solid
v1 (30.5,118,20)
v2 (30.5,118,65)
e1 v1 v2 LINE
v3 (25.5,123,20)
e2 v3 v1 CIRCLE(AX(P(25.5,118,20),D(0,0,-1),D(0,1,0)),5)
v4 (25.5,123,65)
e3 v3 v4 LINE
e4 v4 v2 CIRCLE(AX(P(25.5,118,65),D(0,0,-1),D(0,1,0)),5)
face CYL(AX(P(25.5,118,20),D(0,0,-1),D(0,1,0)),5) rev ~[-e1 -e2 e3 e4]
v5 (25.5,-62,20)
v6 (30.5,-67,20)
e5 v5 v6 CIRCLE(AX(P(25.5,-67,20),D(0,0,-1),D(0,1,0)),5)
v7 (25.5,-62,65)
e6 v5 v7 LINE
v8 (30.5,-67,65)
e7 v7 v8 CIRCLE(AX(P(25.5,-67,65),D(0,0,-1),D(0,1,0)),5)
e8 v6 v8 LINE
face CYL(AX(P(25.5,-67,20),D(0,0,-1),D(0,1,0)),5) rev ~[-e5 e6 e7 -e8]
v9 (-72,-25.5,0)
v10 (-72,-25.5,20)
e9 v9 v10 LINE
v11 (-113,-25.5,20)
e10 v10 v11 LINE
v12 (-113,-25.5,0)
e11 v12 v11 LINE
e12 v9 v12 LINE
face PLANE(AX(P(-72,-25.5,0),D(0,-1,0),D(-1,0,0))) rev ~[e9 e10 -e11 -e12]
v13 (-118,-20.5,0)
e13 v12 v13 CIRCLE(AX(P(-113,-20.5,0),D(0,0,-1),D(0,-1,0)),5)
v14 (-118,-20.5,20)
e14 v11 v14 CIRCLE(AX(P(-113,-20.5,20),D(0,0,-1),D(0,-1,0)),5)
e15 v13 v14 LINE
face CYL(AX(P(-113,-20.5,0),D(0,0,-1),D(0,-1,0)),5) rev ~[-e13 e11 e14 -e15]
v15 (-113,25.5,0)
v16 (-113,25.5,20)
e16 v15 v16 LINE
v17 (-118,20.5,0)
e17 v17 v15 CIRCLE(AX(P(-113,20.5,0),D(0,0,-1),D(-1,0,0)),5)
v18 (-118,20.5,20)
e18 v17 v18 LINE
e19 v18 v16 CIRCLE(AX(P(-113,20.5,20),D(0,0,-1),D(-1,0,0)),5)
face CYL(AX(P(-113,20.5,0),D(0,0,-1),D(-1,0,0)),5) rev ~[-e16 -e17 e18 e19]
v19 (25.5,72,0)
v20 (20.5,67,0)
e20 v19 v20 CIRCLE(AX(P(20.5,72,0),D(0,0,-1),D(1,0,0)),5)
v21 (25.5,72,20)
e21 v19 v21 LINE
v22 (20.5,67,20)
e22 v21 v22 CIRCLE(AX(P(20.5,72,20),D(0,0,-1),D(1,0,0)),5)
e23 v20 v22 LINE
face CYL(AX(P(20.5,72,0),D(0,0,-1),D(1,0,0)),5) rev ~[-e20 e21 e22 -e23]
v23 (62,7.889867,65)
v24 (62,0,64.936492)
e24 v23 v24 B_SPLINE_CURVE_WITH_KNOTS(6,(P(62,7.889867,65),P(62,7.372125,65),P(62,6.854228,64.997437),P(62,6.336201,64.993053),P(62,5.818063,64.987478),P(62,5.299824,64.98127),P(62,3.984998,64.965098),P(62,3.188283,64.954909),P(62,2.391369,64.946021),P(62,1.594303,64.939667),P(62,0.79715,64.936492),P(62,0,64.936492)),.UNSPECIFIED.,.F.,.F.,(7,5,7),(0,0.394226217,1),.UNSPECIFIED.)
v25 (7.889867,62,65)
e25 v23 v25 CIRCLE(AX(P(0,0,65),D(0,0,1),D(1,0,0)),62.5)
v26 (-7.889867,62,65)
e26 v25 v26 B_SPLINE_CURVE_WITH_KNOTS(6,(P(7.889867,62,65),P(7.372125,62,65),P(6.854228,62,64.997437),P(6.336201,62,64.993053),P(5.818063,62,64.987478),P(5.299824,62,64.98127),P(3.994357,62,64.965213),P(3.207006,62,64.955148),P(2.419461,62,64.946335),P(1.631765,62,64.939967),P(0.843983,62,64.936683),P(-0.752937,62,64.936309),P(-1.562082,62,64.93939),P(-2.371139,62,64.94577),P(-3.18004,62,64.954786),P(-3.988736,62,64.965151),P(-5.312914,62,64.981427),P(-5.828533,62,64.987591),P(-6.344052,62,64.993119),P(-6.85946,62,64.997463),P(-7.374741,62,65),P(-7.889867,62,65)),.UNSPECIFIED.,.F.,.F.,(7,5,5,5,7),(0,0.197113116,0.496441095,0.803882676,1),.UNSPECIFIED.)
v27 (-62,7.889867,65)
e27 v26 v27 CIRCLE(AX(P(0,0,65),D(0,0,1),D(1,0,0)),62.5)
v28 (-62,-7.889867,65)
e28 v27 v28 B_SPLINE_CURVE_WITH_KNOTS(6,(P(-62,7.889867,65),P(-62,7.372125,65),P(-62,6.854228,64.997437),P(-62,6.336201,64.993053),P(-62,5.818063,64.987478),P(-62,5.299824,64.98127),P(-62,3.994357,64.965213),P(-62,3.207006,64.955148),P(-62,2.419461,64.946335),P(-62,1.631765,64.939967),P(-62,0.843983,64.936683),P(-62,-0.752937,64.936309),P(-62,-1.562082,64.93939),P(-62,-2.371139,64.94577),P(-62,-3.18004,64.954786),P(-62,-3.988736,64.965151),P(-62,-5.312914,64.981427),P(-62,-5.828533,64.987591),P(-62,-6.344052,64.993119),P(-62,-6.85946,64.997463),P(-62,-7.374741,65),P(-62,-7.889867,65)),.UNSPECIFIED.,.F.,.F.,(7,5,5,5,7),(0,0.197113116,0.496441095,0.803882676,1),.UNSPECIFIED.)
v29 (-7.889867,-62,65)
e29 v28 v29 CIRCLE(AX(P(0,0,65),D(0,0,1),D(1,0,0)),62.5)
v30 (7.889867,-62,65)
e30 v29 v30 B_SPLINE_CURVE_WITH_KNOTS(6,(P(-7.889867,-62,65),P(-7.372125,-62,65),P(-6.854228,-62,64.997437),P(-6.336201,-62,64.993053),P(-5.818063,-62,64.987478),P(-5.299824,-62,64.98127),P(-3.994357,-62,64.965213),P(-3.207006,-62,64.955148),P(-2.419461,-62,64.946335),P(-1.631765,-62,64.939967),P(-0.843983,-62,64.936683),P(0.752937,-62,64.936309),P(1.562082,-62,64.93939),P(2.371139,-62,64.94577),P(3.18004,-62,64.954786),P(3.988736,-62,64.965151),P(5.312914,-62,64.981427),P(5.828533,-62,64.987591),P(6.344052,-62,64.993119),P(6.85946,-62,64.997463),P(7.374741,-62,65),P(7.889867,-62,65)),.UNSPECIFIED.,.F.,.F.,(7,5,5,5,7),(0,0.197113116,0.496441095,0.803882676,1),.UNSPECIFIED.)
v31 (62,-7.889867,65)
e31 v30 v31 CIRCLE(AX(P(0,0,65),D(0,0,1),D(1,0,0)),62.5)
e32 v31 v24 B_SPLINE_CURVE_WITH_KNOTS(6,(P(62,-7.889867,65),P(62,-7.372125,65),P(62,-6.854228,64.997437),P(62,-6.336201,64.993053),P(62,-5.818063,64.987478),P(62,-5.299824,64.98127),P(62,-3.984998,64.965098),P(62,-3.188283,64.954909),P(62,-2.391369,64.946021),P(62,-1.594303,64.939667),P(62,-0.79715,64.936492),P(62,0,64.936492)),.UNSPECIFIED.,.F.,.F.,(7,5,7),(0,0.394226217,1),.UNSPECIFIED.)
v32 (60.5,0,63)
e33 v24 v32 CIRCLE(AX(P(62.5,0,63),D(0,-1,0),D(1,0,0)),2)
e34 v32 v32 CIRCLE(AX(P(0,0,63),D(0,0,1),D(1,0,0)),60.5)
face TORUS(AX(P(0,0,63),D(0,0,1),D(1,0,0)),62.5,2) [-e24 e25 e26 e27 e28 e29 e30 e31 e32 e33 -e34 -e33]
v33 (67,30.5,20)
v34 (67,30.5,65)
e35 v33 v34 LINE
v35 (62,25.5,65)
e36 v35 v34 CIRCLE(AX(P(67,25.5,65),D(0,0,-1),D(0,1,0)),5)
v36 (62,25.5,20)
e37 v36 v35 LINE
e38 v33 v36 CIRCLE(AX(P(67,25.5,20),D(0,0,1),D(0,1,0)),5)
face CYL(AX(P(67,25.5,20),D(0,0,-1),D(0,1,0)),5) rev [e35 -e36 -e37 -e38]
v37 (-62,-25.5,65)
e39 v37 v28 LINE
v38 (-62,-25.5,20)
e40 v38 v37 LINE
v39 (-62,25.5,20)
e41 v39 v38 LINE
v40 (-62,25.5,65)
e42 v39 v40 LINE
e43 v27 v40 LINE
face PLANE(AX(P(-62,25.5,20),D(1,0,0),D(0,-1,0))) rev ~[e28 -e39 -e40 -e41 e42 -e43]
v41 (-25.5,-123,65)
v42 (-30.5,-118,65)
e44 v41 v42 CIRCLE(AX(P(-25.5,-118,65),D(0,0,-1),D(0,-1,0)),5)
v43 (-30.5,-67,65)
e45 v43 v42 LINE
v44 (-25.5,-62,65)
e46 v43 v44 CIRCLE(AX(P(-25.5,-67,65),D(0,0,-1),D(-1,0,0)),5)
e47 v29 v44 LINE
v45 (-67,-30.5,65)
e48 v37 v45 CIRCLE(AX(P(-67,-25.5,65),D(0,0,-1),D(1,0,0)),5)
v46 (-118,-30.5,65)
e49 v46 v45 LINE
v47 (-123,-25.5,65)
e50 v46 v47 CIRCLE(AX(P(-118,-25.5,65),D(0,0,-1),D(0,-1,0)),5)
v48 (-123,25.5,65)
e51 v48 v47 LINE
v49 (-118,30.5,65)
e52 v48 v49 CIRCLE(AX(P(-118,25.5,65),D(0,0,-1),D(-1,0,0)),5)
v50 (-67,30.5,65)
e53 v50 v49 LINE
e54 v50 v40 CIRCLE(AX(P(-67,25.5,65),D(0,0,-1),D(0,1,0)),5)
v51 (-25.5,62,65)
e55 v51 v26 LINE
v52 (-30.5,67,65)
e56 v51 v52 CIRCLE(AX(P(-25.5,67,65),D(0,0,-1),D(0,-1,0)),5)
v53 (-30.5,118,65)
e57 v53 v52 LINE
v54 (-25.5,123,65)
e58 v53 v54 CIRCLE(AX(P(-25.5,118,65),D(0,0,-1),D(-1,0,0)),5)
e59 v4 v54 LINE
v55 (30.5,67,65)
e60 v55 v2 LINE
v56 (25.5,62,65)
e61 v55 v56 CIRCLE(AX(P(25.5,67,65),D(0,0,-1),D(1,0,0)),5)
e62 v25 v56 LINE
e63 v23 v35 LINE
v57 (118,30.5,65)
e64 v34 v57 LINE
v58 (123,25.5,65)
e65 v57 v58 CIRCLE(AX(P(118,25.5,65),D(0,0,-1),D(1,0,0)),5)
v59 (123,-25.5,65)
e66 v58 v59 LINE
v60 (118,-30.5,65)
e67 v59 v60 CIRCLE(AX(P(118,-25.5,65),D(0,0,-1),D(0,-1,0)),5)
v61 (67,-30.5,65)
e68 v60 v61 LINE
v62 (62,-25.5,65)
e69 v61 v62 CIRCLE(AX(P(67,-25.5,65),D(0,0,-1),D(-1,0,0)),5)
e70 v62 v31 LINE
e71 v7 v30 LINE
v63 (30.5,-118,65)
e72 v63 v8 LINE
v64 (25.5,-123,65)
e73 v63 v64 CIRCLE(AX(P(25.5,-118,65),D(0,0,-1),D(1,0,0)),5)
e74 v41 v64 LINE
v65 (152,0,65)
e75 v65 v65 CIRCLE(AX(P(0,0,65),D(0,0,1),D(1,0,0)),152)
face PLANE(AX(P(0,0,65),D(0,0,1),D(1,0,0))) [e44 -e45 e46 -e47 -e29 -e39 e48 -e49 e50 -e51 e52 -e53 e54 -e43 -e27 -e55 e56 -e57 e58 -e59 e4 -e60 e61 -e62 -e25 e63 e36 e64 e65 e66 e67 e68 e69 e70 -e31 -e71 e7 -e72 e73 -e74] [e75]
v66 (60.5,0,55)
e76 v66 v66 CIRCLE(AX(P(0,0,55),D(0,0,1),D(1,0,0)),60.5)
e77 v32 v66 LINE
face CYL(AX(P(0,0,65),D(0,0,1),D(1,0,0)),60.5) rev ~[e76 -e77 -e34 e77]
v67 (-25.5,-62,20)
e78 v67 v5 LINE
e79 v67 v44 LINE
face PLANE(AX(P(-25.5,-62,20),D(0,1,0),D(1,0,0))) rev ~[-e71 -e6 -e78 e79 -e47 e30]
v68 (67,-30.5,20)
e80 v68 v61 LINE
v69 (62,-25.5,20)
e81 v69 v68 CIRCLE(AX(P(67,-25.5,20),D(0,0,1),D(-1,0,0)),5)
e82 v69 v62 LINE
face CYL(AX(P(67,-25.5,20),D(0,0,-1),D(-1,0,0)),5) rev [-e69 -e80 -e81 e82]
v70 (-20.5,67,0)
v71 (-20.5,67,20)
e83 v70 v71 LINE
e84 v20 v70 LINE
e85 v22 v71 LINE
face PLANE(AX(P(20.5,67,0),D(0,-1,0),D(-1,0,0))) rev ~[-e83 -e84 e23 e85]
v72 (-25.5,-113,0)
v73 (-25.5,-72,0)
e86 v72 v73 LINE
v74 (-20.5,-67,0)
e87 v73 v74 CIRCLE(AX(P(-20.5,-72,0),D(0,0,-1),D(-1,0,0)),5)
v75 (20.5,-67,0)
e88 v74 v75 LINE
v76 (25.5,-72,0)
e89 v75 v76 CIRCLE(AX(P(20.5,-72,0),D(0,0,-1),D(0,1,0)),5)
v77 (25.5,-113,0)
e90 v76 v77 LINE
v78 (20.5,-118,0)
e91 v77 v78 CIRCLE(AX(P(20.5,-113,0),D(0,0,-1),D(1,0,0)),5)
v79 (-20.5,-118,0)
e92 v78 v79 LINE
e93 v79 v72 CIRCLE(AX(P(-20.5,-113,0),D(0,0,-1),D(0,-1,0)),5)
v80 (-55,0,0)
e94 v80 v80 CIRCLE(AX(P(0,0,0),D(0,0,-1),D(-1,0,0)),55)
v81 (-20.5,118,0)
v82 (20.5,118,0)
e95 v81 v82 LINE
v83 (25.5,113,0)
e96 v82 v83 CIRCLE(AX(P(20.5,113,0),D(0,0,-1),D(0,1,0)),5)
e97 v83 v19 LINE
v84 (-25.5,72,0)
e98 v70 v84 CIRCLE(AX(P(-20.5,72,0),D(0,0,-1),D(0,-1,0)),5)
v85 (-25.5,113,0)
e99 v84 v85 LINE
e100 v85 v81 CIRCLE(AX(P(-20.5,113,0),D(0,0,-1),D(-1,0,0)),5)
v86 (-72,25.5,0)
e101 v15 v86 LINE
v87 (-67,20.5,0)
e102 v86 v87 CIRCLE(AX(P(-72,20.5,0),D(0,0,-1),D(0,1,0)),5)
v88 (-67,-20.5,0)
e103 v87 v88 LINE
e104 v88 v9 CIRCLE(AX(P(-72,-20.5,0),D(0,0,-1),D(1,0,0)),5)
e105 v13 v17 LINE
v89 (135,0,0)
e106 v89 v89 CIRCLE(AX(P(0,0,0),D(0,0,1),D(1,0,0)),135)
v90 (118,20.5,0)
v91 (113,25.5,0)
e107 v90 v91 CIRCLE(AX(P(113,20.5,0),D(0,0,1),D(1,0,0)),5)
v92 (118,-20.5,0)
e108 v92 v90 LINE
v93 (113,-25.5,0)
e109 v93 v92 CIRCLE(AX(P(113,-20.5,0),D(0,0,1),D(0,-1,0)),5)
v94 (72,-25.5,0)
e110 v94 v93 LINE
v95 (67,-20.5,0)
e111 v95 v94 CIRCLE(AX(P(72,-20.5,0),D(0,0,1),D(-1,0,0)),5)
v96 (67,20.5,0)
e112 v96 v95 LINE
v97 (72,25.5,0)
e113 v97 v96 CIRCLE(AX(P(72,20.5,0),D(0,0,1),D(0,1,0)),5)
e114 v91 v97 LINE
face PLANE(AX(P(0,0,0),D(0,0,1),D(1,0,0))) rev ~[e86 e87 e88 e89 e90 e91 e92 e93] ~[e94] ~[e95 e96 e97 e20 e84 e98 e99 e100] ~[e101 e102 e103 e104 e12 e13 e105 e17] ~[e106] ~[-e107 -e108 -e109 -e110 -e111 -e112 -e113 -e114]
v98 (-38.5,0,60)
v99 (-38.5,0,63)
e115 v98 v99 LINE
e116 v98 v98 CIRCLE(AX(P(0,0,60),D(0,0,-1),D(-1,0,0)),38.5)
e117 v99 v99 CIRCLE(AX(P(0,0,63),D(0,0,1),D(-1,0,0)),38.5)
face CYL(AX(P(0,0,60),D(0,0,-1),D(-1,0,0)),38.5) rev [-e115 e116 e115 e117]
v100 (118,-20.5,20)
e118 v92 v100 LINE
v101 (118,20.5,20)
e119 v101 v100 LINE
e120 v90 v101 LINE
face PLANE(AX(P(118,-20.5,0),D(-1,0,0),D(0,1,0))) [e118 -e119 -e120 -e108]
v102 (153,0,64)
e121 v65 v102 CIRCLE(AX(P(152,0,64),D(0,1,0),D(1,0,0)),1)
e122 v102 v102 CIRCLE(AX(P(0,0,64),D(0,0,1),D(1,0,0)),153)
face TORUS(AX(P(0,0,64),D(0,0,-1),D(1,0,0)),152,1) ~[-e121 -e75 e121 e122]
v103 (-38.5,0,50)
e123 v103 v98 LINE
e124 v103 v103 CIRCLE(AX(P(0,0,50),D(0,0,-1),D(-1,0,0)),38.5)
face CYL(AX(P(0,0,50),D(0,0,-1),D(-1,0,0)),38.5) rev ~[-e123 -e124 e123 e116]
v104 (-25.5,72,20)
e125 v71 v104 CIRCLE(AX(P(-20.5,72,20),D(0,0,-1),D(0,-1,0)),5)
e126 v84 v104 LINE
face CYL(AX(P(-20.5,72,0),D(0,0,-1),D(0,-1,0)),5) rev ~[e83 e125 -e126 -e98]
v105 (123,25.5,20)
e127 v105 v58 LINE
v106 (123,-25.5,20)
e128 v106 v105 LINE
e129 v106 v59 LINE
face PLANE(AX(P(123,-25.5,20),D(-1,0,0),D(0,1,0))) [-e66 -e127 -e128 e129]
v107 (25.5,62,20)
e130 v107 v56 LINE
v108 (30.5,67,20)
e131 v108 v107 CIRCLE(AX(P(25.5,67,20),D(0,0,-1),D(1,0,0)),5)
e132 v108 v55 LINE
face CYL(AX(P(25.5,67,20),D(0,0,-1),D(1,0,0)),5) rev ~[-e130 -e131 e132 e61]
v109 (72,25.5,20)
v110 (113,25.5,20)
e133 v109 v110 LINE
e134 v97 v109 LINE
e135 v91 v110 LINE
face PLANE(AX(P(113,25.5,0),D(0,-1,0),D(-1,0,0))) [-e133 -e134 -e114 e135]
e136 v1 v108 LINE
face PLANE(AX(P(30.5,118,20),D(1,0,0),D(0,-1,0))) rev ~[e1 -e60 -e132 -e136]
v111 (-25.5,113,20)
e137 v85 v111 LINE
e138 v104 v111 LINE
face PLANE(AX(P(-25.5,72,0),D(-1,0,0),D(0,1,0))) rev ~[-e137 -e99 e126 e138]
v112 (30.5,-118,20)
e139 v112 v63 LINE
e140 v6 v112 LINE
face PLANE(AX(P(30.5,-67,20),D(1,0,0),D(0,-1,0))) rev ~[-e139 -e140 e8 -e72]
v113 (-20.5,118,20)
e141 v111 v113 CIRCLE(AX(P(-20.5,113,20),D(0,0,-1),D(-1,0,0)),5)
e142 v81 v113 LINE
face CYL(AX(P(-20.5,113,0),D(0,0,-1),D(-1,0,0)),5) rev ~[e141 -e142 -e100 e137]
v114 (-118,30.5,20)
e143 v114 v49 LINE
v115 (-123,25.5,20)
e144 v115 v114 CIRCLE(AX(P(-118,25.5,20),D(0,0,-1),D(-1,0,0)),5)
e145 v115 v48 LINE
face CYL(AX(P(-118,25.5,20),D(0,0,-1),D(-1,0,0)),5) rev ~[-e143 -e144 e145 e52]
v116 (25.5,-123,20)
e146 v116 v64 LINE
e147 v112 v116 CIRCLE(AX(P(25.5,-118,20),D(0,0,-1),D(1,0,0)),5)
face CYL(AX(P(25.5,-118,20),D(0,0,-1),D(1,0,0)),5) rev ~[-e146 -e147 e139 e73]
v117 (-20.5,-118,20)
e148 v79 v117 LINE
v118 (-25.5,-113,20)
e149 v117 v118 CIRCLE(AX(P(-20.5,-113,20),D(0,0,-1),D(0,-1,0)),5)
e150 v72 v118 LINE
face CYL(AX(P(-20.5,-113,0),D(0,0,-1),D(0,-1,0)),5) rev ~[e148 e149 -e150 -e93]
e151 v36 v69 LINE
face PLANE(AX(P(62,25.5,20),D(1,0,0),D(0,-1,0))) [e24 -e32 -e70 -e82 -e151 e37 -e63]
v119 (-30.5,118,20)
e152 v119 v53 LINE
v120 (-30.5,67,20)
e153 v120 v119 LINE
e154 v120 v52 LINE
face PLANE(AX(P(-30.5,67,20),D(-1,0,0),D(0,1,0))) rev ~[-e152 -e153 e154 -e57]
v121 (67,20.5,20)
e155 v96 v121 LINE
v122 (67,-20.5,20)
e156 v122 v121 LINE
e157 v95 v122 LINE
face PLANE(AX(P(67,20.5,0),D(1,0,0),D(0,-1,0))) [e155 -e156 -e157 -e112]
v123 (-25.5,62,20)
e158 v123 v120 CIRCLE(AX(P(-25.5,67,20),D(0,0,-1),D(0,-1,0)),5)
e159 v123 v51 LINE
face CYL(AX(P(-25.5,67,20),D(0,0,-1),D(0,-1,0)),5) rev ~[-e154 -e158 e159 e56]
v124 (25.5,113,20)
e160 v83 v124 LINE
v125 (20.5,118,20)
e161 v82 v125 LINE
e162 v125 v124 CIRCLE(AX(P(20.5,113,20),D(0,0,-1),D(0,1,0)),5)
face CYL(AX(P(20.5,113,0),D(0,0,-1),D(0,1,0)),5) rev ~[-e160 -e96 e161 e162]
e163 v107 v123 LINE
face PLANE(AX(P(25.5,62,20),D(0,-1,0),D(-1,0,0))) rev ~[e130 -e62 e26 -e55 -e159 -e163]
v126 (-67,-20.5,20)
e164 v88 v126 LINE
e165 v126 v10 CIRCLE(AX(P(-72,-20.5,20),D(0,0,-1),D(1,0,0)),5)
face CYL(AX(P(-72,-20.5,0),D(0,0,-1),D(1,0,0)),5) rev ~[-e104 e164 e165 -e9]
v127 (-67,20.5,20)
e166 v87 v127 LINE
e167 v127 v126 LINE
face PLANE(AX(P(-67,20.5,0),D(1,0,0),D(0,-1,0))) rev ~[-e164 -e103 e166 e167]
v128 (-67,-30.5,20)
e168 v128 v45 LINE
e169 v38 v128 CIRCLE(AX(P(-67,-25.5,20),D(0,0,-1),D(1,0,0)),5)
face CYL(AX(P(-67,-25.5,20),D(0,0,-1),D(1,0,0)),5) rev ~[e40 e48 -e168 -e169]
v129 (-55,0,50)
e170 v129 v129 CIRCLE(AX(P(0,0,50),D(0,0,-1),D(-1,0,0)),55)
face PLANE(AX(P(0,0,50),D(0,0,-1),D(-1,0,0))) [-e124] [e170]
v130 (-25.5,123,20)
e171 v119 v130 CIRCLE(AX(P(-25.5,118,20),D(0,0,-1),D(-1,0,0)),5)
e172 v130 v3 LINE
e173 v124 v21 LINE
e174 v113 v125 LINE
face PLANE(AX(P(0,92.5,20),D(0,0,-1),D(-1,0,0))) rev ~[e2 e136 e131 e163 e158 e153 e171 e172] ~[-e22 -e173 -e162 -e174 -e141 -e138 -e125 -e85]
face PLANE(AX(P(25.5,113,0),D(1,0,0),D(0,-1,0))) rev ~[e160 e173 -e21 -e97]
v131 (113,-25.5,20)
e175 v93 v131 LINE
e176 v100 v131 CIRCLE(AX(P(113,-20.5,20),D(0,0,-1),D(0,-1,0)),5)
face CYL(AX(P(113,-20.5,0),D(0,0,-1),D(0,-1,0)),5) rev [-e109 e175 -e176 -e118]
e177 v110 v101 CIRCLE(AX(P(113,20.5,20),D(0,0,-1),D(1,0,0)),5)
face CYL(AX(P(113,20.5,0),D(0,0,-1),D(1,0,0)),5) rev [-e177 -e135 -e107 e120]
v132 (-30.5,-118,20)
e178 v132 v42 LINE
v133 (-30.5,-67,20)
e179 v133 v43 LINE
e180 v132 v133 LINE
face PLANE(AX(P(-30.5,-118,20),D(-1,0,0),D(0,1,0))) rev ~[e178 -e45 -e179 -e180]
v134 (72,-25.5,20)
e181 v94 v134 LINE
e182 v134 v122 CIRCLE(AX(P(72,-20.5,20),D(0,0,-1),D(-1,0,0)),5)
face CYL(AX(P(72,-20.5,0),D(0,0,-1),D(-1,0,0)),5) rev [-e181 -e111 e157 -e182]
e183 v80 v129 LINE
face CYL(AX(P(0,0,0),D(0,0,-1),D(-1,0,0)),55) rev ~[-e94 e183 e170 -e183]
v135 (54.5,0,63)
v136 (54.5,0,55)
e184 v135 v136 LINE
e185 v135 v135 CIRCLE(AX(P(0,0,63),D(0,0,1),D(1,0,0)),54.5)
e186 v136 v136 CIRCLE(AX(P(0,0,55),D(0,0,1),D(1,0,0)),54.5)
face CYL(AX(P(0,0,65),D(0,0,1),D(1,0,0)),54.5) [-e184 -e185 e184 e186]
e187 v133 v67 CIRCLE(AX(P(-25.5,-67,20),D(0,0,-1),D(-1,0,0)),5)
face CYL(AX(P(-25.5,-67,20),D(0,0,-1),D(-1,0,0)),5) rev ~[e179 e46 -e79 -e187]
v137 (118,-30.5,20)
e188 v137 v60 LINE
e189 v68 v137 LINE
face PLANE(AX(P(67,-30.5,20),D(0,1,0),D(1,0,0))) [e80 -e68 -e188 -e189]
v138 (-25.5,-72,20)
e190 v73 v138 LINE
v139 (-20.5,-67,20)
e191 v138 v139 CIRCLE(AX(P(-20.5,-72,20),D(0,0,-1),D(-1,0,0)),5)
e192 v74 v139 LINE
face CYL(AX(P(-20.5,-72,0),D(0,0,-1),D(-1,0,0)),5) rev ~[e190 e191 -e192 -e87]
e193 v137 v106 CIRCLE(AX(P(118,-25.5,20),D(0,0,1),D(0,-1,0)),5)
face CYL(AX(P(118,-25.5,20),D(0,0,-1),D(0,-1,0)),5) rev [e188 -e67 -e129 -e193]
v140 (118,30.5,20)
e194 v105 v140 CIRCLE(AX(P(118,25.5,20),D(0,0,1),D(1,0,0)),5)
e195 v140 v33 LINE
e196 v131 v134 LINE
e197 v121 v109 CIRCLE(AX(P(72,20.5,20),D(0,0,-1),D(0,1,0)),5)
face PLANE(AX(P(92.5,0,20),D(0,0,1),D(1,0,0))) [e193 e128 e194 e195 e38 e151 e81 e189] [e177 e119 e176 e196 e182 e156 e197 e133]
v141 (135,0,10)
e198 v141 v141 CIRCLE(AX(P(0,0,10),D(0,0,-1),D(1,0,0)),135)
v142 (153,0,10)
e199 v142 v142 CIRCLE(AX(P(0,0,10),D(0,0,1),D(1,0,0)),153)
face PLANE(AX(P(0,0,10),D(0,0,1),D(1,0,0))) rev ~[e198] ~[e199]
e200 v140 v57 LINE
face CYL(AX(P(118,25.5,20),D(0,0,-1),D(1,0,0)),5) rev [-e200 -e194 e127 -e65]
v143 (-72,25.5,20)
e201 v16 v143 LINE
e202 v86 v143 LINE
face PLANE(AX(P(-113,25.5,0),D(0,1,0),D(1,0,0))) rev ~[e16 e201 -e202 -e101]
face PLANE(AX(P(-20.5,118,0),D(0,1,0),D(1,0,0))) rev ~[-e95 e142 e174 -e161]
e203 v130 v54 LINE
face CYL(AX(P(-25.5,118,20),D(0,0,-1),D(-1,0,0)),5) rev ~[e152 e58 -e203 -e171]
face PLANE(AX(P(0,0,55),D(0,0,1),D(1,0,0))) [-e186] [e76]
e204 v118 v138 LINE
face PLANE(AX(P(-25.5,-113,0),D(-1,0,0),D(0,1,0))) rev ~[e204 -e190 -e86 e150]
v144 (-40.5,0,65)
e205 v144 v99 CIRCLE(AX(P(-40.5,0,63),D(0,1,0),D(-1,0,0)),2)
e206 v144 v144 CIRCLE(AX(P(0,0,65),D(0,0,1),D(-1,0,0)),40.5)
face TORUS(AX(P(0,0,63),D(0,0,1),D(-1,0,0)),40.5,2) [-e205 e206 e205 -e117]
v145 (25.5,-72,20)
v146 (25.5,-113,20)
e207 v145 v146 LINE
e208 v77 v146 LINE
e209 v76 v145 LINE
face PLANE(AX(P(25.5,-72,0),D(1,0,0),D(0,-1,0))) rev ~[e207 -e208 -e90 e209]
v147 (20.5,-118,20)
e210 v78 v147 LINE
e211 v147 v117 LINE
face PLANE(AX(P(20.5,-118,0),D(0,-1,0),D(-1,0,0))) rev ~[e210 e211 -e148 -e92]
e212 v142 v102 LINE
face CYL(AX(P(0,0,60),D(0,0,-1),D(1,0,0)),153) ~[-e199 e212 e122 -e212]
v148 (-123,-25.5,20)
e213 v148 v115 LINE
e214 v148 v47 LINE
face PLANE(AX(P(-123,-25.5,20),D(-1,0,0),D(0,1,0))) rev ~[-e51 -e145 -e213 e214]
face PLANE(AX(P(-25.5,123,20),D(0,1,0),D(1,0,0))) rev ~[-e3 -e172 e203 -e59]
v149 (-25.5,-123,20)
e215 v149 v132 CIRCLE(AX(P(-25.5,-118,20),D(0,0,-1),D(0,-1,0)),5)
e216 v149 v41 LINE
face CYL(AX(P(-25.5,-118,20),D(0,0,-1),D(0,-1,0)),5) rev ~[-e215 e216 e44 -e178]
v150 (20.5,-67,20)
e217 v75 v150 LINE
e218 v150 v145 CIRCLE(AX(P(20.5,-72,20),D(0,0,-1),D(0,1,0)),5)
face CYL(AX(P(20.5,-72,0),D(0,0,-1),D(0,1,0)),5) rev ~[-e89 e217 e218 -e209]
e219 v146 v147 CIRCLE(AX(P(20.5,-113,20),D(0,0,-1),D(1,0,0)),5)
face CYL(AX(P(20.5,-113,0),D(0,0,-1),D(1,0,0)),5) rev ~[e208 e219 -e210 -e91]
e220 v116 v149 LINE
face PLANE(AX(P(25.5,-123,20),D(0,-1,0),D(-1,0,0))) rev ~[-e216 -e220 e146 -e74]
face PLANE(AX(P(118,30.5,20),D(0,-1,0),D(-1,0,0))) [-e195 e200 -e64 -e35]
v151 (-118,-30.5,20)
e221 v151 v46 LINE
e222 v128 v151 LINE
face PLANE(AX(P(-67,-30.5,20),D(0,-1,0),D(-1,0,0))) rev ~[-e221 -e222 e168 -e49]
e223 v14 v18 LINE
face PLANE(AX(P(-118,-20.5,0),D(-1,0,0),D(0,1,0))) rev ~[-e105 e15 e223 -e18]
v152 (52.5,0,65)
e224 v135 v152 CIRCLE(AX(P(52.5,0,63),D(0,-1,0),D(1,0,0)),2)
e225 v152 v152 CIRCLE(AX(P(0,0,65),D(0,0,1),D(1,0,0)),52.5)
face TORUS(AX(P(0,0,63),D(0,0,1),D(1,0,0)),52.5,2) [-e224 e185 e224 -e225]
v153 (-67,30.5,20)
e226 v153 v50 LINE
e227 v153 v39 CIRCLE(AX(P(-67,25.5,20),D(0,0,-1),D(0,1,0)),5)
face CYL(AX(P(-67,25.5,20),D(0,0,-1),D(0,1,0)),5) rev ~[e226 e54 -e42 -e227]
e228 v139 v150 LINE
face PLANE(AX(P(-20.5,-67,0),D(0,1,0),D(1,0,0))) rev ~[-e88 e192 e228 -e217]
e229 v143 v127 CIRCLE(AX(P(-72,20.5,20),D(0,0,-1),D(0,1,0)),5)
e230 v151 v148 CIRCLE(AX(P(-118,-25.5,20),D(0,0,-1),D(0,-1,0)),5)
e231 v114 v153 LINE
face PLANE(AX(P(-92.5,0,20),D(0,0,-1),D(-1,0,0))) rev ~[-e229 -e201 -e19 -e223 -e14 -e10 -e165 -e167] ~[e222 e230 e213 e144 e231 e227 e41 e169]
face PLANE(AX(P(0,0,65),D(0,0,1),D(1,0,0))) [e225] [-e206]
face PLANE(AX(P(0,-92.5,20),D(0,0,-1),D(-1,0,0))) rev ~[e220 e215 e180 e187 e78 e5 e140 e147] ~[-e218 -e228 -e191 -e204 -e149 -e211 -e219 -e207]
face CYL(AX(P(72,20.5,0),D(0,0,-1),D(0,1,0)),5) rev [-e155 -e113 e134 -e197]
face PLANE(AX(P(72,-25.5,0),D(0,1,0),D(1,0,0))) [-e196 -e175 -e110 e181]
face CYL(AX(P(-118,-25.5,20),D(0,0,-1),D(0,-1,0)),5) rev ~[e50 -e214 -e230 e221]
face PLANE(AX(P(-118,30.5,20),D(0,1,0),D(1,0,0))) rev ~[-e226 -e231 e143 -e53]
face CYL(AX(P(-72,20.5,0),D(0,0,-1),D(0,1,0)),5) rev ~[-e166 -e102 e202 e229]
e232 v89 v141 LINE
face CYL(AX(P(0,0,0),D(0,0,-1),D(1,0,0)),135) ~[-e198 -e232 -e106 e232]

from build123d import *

# Parameters (mm, degrees)
IZIM1_R                     = 135
Y_KSEKLIK_EKSTR_ZYON1_DEPTH = 60
Y_KSEKLIK_EKSTR_ZYON2_START = 10
IZIM2_R                     = 153
Y_KSEKLIK_EKSTR_ZYON2_DEPTH = 50
IZIM3_R                     = 55
KES_EKSTR_ZYON1_DEPTH       = 741
Y_KSEKLIK_EKSTR_ZYON3_START = -50
IZIM4_R                     = 55
IZIM4_R_2                   = 38.5
Y_KSEKLIK_EKSTR_ZYON3_DEPTH = 10
IZIM5_R                     = 153
IZIM5_R_2                   = 38.5
Y_KSEKLIK_EKSTR_ZYON4_DEPTH = 5
IZIM6_R                     = 60.5
IZIM6_R_2                   = 54.5
KES_EKSTR_ZYON2_DEPTH       = 10
RADYUS2_R                   = 2
FILLET1_R                   = 1
CUT_EXTRUDE1_START          = -20
CUT_EXTRUDE1_DEPTH          = 206.926979422
CUT_EXTRUDE2_DEPTH          = 226.92697945


with BuildPart() as part:
    # Çizim1 → Yükseklik-Ekstrüzyon1 (new body)
    with BuildSketch(Plane.XY):
        Circle(IZIM1_R)
    extrude(amount=Y_KSEKLIK_EKSTR_ZYON1_DEPTH)

    # Çizim2 → Yükseklik-Ekstrüzyon2 (add)
    with BuildSketch(Plane.XY.offset(Y_KSEKLIK_EKSTR_ZYON2_START)):
        Circle(IZIM2_R)
    extrude(amount=Y_KSEKLIK_EKSTR_ZYON2_DEPTH)

    # Çizim3 → Kes-Ekstrüzyon1 (cut)
    with BuildSketch(Plane(origin=(0, 0, 0), x_dir=(-1, 0, 0), z_dir=(0, 0, -1))):
        Circle(IZIM3_R)
    extrude(amount=-KES_EKSTR_ZYON1_DEPTH, mode=Mode.SUBTRACT)

    # Çizim4 → Yükseklik-Ekstrüzyon3 (add)
    with BuildSketch(Plane(origin=(0, 0, 0), x_dir=(-1, 0, 0), z_dir=(0, 0, -1)).offset(Y_KSEKLIK_EKSTR_ZYON3_START)):
        Circle(IZIM4_R)
        Circle(IZIM4_R_2, mode=Mode.SUBTRACT)
    extrude(amount=-Y_KSEKLIK_EKSTR_ZYON3_DEPTH)

    # Çizim5 → Yükseklik-Ekstrüzyon4 (add)
    with BuildSketch(Plane.XY.offset(60)):
        Circle(IZIM5_R)
        with Locations(Location((0, 0, 0), (0, 0, 180))):
            Circle(IZIM5_R_2, mode=Mode.SUBTRACT)
    extrude(amount=Y_KSEKLIK_EKSTR_ZYON4_DEPTH)

    # Çizim6 → Kes-Ekstrüzyon2 (cut)
    with BuildSketch(Plane.XY.offset(65)):
        Circle(IZIM6_R)
        Circle(IZIM6_R_2, mode=Mode.SUBTRACT)
    extrude(amount=-KES_EKSTR_ZYON2_DEPTH, mode=Mode.SUBTRACT)

    # Radyus2
    radyus2_edges = [part.edges().sort_by_distance(p)[0] for p in [
        (38.5, 0, 65),
        (-60.5, 0, 65),
        (-54.5, 0, 65),
    ]]
    fillet(radyus2_edges, radius=RADYUS2_R)

    # Fillet1
    fillet1_edges = [part.edges().sort_by_distance(p)[0] for p in [
        (-153, 0, 65),
    ]]
    fillet(fillet1_edges, radius=FILLET1_R)

    # Sketch1 → Cut-Extrude1 (cut, through all)
    with BuildSketch(Plane(origin=(0, 0, 0), x_dir=(-1, 0, 0), z_dir=(0, 0, -1)).offset(CUT_EXTRUDE1_START)):
        with BuildLine():
            Line((25.5, 123), (-25.5, 123))
            ThreePointArc((-25.5, 123), (-29.035533906, 121.535533906), (-30.5, 118))
            Line((-30.5, 118), (-30.5, 67))
            ThreePointArc((-30.5, 67), (-29.035533906, 63.464466094), (-25.5, 62))
            Line((-25.5, 62), (25.5, 62))
            ThreePointArc((25.5, 62), (29.035533906, 63.464466094), (30.5, 67))
            Line((30.5, 67), (30.5, 118))
            ThreePointArc((30.5, 118), (29.035533906, 121.535533906), (25.5, 123))
        make_face()
        with BuildLine():
            Line((-118, 30.5), (-67, 30.5))
            ThreePointArc((-67, 30.5), (-63.464466094, 29.035533906), (-62, 25.5))
            Line((-62, 25.5), (-62, -25.5))
            ThreePointArc((-62, -25.5), (-63.464466094, -29.035533906), (-67, -30.5))
            Line((-67, -30.5), (-118, -30.5))
            ThreePointArc((-118, -30.5), (-121.535533906, -29.035533906), (-123, -25.5))
            Line((-123, -25.5), (-123, 25.5))
            ThreePointArc((-123, 25.5), (-121.535533906, 29.035533906), (-118, 30.5))
        make_face()
        with BuildLine():
            Line((123, -25.5), (123, 25.5))
            ThreePointArc((123, 25.5), (121.535533906, 29.035533906), (118, 30.5))
            Line((118, 30.5), (67, 30.5))
            ThreePointArc((67, 30.5), (63.464466094, 29.035533906), (62, 25.5))
            Line((62, 25.5), (62, -25.5))
            ThreePointArc((62, -25.5), (63.464466094, -29.035533906), (67, -30.5))
            Line((67, -30.5), (118, -30.5))
            ThreePointArc((118, -30.5), (121.535533906, -29.035533906), (123, -25.5))
        make_face()
        with BuildLine():
            Line((-25.5, -123), (25.5, -123))
            ThreePointArc((25.5, -123), (29.035533906, -121.535533906), (30.5, -118))
            Line((30.5, -118), (30.5, -67))
            ThreePointArc((30.5, -67), (29.035533906, -63.464466094), (25.5, -62))
            Line((25.5, -62), (-25.5, -62))
            ThreePointArc((-25.5, -62), (-29.035533906, -63.464466094), (-30.5, -67))
            Line((-30.5, -67), (-30.5, -118))
            ThreePointArc((-30.5, -118), (-29.035533906, -121.535533906), (-25.5, -123))
        make_face()
    extrude(amount=-CUT_EXTRUDE1_DEPTH, mode=Mode.SUBTRACT)

    # Sketch2 → Cut-Extrude2 (cut, through all)
    with BuildSketch(Plane(origin=(0, 0, 0), x_dir=(-1, 0, 0), z_dir=(0, 0, -1))):
        with BuildLine():
            Line((20.5, 118), (-20.5, 118))
            ThreePointArc((-20.5, 118), (-24.035533906, 116.535533906), (-25.5, 113))
            Line((-25.5, 113), (-25.5, 72))
            ThreePointArc((-25.5, 72), (-24.035533906, 68.464466094), (-20.5, 67))
            Line((-20.5, 67), (20.5, 67))
            ThreePointArc((20.5, 67), (24.035533906, 68.464466094), (25.5, 72))
            Line((25.5, 72), (25.5, 113))
            ThreePointArc((25.5, 113), (24.035533906, 116.535533906), (20.5, 118))
        make_face()
        with BuildLine():
            Line((-113, 25.5), (-72, 25.5))
            ThreePointArc((-72, 25.5), (-68.464466094, 24.035533906), (-67, 20.5))
            Line((-67, 20.5), (-67, -20.5))
            ThreePointArc((-67, -20.5), (-68.464466094, -24.035533906), (-72, -25.5))
            Line((-72, -25.5), (-113, -25.5))
            ThreePointArc((-113, -25.5), (-116.535533906, -24.035533906), (-118, -20.5))
            Line((-118, -20.5), (-118, 20.5))
            ThreePointArc((-118, 20.5), (-116.535533906, 24.035533906), (-113, 25.5))
        make_face()
        with BuildLine():
            Line((118, -20.5), (118, 20.5))
            ThreePointArc((118, 20.5), (116.535533906, 24.035533906), (113, 25.5))
            Line((113, 25.5), (72, 25.5))
            ThreePointArc((72, 25.5), (68.464466094, 24.035533906), (67, 20.5))
            Line((67, 20.5), (67, -20.5))
            ThreePointArc((67, -20.5), (68.464466094, -24.035533906), (72, -25.5))
            Line((72, -25.5), (113, -25.5))
            ThreePointArc((113, -25.5), (116.535533906, -24.035533906), (118, -20.5))
        make_face()
        with BuildLine():
            Line((-20.5, -118), (20.5, -118))
            ThreePointArc((20.5, -118), (24.035533906, -116.535533906), (25.5, -113))
            Line((25.5, -113), (25.5, -72))
            ThreePointArc((25.5, -72), (24.035533906, -68.464466094), (20.5, -67))
            Line((20.5, -67), (-20.5, -67))
            ThreePointArc((-20.5, -67), (-24.035533906, -68.464466094), (-25.5, -72))
            Line((-25.5, -72), (-25.5, -113))
            ThreePointArc((-25.5, -113), (-24.035533906, -116.535533906), (-20.5, -118))
        make_face()
    extrude(amount=-CUT_EXTRUDE2_DEPTH, mode=Mode.SUBTRACT)


solid = part.part
